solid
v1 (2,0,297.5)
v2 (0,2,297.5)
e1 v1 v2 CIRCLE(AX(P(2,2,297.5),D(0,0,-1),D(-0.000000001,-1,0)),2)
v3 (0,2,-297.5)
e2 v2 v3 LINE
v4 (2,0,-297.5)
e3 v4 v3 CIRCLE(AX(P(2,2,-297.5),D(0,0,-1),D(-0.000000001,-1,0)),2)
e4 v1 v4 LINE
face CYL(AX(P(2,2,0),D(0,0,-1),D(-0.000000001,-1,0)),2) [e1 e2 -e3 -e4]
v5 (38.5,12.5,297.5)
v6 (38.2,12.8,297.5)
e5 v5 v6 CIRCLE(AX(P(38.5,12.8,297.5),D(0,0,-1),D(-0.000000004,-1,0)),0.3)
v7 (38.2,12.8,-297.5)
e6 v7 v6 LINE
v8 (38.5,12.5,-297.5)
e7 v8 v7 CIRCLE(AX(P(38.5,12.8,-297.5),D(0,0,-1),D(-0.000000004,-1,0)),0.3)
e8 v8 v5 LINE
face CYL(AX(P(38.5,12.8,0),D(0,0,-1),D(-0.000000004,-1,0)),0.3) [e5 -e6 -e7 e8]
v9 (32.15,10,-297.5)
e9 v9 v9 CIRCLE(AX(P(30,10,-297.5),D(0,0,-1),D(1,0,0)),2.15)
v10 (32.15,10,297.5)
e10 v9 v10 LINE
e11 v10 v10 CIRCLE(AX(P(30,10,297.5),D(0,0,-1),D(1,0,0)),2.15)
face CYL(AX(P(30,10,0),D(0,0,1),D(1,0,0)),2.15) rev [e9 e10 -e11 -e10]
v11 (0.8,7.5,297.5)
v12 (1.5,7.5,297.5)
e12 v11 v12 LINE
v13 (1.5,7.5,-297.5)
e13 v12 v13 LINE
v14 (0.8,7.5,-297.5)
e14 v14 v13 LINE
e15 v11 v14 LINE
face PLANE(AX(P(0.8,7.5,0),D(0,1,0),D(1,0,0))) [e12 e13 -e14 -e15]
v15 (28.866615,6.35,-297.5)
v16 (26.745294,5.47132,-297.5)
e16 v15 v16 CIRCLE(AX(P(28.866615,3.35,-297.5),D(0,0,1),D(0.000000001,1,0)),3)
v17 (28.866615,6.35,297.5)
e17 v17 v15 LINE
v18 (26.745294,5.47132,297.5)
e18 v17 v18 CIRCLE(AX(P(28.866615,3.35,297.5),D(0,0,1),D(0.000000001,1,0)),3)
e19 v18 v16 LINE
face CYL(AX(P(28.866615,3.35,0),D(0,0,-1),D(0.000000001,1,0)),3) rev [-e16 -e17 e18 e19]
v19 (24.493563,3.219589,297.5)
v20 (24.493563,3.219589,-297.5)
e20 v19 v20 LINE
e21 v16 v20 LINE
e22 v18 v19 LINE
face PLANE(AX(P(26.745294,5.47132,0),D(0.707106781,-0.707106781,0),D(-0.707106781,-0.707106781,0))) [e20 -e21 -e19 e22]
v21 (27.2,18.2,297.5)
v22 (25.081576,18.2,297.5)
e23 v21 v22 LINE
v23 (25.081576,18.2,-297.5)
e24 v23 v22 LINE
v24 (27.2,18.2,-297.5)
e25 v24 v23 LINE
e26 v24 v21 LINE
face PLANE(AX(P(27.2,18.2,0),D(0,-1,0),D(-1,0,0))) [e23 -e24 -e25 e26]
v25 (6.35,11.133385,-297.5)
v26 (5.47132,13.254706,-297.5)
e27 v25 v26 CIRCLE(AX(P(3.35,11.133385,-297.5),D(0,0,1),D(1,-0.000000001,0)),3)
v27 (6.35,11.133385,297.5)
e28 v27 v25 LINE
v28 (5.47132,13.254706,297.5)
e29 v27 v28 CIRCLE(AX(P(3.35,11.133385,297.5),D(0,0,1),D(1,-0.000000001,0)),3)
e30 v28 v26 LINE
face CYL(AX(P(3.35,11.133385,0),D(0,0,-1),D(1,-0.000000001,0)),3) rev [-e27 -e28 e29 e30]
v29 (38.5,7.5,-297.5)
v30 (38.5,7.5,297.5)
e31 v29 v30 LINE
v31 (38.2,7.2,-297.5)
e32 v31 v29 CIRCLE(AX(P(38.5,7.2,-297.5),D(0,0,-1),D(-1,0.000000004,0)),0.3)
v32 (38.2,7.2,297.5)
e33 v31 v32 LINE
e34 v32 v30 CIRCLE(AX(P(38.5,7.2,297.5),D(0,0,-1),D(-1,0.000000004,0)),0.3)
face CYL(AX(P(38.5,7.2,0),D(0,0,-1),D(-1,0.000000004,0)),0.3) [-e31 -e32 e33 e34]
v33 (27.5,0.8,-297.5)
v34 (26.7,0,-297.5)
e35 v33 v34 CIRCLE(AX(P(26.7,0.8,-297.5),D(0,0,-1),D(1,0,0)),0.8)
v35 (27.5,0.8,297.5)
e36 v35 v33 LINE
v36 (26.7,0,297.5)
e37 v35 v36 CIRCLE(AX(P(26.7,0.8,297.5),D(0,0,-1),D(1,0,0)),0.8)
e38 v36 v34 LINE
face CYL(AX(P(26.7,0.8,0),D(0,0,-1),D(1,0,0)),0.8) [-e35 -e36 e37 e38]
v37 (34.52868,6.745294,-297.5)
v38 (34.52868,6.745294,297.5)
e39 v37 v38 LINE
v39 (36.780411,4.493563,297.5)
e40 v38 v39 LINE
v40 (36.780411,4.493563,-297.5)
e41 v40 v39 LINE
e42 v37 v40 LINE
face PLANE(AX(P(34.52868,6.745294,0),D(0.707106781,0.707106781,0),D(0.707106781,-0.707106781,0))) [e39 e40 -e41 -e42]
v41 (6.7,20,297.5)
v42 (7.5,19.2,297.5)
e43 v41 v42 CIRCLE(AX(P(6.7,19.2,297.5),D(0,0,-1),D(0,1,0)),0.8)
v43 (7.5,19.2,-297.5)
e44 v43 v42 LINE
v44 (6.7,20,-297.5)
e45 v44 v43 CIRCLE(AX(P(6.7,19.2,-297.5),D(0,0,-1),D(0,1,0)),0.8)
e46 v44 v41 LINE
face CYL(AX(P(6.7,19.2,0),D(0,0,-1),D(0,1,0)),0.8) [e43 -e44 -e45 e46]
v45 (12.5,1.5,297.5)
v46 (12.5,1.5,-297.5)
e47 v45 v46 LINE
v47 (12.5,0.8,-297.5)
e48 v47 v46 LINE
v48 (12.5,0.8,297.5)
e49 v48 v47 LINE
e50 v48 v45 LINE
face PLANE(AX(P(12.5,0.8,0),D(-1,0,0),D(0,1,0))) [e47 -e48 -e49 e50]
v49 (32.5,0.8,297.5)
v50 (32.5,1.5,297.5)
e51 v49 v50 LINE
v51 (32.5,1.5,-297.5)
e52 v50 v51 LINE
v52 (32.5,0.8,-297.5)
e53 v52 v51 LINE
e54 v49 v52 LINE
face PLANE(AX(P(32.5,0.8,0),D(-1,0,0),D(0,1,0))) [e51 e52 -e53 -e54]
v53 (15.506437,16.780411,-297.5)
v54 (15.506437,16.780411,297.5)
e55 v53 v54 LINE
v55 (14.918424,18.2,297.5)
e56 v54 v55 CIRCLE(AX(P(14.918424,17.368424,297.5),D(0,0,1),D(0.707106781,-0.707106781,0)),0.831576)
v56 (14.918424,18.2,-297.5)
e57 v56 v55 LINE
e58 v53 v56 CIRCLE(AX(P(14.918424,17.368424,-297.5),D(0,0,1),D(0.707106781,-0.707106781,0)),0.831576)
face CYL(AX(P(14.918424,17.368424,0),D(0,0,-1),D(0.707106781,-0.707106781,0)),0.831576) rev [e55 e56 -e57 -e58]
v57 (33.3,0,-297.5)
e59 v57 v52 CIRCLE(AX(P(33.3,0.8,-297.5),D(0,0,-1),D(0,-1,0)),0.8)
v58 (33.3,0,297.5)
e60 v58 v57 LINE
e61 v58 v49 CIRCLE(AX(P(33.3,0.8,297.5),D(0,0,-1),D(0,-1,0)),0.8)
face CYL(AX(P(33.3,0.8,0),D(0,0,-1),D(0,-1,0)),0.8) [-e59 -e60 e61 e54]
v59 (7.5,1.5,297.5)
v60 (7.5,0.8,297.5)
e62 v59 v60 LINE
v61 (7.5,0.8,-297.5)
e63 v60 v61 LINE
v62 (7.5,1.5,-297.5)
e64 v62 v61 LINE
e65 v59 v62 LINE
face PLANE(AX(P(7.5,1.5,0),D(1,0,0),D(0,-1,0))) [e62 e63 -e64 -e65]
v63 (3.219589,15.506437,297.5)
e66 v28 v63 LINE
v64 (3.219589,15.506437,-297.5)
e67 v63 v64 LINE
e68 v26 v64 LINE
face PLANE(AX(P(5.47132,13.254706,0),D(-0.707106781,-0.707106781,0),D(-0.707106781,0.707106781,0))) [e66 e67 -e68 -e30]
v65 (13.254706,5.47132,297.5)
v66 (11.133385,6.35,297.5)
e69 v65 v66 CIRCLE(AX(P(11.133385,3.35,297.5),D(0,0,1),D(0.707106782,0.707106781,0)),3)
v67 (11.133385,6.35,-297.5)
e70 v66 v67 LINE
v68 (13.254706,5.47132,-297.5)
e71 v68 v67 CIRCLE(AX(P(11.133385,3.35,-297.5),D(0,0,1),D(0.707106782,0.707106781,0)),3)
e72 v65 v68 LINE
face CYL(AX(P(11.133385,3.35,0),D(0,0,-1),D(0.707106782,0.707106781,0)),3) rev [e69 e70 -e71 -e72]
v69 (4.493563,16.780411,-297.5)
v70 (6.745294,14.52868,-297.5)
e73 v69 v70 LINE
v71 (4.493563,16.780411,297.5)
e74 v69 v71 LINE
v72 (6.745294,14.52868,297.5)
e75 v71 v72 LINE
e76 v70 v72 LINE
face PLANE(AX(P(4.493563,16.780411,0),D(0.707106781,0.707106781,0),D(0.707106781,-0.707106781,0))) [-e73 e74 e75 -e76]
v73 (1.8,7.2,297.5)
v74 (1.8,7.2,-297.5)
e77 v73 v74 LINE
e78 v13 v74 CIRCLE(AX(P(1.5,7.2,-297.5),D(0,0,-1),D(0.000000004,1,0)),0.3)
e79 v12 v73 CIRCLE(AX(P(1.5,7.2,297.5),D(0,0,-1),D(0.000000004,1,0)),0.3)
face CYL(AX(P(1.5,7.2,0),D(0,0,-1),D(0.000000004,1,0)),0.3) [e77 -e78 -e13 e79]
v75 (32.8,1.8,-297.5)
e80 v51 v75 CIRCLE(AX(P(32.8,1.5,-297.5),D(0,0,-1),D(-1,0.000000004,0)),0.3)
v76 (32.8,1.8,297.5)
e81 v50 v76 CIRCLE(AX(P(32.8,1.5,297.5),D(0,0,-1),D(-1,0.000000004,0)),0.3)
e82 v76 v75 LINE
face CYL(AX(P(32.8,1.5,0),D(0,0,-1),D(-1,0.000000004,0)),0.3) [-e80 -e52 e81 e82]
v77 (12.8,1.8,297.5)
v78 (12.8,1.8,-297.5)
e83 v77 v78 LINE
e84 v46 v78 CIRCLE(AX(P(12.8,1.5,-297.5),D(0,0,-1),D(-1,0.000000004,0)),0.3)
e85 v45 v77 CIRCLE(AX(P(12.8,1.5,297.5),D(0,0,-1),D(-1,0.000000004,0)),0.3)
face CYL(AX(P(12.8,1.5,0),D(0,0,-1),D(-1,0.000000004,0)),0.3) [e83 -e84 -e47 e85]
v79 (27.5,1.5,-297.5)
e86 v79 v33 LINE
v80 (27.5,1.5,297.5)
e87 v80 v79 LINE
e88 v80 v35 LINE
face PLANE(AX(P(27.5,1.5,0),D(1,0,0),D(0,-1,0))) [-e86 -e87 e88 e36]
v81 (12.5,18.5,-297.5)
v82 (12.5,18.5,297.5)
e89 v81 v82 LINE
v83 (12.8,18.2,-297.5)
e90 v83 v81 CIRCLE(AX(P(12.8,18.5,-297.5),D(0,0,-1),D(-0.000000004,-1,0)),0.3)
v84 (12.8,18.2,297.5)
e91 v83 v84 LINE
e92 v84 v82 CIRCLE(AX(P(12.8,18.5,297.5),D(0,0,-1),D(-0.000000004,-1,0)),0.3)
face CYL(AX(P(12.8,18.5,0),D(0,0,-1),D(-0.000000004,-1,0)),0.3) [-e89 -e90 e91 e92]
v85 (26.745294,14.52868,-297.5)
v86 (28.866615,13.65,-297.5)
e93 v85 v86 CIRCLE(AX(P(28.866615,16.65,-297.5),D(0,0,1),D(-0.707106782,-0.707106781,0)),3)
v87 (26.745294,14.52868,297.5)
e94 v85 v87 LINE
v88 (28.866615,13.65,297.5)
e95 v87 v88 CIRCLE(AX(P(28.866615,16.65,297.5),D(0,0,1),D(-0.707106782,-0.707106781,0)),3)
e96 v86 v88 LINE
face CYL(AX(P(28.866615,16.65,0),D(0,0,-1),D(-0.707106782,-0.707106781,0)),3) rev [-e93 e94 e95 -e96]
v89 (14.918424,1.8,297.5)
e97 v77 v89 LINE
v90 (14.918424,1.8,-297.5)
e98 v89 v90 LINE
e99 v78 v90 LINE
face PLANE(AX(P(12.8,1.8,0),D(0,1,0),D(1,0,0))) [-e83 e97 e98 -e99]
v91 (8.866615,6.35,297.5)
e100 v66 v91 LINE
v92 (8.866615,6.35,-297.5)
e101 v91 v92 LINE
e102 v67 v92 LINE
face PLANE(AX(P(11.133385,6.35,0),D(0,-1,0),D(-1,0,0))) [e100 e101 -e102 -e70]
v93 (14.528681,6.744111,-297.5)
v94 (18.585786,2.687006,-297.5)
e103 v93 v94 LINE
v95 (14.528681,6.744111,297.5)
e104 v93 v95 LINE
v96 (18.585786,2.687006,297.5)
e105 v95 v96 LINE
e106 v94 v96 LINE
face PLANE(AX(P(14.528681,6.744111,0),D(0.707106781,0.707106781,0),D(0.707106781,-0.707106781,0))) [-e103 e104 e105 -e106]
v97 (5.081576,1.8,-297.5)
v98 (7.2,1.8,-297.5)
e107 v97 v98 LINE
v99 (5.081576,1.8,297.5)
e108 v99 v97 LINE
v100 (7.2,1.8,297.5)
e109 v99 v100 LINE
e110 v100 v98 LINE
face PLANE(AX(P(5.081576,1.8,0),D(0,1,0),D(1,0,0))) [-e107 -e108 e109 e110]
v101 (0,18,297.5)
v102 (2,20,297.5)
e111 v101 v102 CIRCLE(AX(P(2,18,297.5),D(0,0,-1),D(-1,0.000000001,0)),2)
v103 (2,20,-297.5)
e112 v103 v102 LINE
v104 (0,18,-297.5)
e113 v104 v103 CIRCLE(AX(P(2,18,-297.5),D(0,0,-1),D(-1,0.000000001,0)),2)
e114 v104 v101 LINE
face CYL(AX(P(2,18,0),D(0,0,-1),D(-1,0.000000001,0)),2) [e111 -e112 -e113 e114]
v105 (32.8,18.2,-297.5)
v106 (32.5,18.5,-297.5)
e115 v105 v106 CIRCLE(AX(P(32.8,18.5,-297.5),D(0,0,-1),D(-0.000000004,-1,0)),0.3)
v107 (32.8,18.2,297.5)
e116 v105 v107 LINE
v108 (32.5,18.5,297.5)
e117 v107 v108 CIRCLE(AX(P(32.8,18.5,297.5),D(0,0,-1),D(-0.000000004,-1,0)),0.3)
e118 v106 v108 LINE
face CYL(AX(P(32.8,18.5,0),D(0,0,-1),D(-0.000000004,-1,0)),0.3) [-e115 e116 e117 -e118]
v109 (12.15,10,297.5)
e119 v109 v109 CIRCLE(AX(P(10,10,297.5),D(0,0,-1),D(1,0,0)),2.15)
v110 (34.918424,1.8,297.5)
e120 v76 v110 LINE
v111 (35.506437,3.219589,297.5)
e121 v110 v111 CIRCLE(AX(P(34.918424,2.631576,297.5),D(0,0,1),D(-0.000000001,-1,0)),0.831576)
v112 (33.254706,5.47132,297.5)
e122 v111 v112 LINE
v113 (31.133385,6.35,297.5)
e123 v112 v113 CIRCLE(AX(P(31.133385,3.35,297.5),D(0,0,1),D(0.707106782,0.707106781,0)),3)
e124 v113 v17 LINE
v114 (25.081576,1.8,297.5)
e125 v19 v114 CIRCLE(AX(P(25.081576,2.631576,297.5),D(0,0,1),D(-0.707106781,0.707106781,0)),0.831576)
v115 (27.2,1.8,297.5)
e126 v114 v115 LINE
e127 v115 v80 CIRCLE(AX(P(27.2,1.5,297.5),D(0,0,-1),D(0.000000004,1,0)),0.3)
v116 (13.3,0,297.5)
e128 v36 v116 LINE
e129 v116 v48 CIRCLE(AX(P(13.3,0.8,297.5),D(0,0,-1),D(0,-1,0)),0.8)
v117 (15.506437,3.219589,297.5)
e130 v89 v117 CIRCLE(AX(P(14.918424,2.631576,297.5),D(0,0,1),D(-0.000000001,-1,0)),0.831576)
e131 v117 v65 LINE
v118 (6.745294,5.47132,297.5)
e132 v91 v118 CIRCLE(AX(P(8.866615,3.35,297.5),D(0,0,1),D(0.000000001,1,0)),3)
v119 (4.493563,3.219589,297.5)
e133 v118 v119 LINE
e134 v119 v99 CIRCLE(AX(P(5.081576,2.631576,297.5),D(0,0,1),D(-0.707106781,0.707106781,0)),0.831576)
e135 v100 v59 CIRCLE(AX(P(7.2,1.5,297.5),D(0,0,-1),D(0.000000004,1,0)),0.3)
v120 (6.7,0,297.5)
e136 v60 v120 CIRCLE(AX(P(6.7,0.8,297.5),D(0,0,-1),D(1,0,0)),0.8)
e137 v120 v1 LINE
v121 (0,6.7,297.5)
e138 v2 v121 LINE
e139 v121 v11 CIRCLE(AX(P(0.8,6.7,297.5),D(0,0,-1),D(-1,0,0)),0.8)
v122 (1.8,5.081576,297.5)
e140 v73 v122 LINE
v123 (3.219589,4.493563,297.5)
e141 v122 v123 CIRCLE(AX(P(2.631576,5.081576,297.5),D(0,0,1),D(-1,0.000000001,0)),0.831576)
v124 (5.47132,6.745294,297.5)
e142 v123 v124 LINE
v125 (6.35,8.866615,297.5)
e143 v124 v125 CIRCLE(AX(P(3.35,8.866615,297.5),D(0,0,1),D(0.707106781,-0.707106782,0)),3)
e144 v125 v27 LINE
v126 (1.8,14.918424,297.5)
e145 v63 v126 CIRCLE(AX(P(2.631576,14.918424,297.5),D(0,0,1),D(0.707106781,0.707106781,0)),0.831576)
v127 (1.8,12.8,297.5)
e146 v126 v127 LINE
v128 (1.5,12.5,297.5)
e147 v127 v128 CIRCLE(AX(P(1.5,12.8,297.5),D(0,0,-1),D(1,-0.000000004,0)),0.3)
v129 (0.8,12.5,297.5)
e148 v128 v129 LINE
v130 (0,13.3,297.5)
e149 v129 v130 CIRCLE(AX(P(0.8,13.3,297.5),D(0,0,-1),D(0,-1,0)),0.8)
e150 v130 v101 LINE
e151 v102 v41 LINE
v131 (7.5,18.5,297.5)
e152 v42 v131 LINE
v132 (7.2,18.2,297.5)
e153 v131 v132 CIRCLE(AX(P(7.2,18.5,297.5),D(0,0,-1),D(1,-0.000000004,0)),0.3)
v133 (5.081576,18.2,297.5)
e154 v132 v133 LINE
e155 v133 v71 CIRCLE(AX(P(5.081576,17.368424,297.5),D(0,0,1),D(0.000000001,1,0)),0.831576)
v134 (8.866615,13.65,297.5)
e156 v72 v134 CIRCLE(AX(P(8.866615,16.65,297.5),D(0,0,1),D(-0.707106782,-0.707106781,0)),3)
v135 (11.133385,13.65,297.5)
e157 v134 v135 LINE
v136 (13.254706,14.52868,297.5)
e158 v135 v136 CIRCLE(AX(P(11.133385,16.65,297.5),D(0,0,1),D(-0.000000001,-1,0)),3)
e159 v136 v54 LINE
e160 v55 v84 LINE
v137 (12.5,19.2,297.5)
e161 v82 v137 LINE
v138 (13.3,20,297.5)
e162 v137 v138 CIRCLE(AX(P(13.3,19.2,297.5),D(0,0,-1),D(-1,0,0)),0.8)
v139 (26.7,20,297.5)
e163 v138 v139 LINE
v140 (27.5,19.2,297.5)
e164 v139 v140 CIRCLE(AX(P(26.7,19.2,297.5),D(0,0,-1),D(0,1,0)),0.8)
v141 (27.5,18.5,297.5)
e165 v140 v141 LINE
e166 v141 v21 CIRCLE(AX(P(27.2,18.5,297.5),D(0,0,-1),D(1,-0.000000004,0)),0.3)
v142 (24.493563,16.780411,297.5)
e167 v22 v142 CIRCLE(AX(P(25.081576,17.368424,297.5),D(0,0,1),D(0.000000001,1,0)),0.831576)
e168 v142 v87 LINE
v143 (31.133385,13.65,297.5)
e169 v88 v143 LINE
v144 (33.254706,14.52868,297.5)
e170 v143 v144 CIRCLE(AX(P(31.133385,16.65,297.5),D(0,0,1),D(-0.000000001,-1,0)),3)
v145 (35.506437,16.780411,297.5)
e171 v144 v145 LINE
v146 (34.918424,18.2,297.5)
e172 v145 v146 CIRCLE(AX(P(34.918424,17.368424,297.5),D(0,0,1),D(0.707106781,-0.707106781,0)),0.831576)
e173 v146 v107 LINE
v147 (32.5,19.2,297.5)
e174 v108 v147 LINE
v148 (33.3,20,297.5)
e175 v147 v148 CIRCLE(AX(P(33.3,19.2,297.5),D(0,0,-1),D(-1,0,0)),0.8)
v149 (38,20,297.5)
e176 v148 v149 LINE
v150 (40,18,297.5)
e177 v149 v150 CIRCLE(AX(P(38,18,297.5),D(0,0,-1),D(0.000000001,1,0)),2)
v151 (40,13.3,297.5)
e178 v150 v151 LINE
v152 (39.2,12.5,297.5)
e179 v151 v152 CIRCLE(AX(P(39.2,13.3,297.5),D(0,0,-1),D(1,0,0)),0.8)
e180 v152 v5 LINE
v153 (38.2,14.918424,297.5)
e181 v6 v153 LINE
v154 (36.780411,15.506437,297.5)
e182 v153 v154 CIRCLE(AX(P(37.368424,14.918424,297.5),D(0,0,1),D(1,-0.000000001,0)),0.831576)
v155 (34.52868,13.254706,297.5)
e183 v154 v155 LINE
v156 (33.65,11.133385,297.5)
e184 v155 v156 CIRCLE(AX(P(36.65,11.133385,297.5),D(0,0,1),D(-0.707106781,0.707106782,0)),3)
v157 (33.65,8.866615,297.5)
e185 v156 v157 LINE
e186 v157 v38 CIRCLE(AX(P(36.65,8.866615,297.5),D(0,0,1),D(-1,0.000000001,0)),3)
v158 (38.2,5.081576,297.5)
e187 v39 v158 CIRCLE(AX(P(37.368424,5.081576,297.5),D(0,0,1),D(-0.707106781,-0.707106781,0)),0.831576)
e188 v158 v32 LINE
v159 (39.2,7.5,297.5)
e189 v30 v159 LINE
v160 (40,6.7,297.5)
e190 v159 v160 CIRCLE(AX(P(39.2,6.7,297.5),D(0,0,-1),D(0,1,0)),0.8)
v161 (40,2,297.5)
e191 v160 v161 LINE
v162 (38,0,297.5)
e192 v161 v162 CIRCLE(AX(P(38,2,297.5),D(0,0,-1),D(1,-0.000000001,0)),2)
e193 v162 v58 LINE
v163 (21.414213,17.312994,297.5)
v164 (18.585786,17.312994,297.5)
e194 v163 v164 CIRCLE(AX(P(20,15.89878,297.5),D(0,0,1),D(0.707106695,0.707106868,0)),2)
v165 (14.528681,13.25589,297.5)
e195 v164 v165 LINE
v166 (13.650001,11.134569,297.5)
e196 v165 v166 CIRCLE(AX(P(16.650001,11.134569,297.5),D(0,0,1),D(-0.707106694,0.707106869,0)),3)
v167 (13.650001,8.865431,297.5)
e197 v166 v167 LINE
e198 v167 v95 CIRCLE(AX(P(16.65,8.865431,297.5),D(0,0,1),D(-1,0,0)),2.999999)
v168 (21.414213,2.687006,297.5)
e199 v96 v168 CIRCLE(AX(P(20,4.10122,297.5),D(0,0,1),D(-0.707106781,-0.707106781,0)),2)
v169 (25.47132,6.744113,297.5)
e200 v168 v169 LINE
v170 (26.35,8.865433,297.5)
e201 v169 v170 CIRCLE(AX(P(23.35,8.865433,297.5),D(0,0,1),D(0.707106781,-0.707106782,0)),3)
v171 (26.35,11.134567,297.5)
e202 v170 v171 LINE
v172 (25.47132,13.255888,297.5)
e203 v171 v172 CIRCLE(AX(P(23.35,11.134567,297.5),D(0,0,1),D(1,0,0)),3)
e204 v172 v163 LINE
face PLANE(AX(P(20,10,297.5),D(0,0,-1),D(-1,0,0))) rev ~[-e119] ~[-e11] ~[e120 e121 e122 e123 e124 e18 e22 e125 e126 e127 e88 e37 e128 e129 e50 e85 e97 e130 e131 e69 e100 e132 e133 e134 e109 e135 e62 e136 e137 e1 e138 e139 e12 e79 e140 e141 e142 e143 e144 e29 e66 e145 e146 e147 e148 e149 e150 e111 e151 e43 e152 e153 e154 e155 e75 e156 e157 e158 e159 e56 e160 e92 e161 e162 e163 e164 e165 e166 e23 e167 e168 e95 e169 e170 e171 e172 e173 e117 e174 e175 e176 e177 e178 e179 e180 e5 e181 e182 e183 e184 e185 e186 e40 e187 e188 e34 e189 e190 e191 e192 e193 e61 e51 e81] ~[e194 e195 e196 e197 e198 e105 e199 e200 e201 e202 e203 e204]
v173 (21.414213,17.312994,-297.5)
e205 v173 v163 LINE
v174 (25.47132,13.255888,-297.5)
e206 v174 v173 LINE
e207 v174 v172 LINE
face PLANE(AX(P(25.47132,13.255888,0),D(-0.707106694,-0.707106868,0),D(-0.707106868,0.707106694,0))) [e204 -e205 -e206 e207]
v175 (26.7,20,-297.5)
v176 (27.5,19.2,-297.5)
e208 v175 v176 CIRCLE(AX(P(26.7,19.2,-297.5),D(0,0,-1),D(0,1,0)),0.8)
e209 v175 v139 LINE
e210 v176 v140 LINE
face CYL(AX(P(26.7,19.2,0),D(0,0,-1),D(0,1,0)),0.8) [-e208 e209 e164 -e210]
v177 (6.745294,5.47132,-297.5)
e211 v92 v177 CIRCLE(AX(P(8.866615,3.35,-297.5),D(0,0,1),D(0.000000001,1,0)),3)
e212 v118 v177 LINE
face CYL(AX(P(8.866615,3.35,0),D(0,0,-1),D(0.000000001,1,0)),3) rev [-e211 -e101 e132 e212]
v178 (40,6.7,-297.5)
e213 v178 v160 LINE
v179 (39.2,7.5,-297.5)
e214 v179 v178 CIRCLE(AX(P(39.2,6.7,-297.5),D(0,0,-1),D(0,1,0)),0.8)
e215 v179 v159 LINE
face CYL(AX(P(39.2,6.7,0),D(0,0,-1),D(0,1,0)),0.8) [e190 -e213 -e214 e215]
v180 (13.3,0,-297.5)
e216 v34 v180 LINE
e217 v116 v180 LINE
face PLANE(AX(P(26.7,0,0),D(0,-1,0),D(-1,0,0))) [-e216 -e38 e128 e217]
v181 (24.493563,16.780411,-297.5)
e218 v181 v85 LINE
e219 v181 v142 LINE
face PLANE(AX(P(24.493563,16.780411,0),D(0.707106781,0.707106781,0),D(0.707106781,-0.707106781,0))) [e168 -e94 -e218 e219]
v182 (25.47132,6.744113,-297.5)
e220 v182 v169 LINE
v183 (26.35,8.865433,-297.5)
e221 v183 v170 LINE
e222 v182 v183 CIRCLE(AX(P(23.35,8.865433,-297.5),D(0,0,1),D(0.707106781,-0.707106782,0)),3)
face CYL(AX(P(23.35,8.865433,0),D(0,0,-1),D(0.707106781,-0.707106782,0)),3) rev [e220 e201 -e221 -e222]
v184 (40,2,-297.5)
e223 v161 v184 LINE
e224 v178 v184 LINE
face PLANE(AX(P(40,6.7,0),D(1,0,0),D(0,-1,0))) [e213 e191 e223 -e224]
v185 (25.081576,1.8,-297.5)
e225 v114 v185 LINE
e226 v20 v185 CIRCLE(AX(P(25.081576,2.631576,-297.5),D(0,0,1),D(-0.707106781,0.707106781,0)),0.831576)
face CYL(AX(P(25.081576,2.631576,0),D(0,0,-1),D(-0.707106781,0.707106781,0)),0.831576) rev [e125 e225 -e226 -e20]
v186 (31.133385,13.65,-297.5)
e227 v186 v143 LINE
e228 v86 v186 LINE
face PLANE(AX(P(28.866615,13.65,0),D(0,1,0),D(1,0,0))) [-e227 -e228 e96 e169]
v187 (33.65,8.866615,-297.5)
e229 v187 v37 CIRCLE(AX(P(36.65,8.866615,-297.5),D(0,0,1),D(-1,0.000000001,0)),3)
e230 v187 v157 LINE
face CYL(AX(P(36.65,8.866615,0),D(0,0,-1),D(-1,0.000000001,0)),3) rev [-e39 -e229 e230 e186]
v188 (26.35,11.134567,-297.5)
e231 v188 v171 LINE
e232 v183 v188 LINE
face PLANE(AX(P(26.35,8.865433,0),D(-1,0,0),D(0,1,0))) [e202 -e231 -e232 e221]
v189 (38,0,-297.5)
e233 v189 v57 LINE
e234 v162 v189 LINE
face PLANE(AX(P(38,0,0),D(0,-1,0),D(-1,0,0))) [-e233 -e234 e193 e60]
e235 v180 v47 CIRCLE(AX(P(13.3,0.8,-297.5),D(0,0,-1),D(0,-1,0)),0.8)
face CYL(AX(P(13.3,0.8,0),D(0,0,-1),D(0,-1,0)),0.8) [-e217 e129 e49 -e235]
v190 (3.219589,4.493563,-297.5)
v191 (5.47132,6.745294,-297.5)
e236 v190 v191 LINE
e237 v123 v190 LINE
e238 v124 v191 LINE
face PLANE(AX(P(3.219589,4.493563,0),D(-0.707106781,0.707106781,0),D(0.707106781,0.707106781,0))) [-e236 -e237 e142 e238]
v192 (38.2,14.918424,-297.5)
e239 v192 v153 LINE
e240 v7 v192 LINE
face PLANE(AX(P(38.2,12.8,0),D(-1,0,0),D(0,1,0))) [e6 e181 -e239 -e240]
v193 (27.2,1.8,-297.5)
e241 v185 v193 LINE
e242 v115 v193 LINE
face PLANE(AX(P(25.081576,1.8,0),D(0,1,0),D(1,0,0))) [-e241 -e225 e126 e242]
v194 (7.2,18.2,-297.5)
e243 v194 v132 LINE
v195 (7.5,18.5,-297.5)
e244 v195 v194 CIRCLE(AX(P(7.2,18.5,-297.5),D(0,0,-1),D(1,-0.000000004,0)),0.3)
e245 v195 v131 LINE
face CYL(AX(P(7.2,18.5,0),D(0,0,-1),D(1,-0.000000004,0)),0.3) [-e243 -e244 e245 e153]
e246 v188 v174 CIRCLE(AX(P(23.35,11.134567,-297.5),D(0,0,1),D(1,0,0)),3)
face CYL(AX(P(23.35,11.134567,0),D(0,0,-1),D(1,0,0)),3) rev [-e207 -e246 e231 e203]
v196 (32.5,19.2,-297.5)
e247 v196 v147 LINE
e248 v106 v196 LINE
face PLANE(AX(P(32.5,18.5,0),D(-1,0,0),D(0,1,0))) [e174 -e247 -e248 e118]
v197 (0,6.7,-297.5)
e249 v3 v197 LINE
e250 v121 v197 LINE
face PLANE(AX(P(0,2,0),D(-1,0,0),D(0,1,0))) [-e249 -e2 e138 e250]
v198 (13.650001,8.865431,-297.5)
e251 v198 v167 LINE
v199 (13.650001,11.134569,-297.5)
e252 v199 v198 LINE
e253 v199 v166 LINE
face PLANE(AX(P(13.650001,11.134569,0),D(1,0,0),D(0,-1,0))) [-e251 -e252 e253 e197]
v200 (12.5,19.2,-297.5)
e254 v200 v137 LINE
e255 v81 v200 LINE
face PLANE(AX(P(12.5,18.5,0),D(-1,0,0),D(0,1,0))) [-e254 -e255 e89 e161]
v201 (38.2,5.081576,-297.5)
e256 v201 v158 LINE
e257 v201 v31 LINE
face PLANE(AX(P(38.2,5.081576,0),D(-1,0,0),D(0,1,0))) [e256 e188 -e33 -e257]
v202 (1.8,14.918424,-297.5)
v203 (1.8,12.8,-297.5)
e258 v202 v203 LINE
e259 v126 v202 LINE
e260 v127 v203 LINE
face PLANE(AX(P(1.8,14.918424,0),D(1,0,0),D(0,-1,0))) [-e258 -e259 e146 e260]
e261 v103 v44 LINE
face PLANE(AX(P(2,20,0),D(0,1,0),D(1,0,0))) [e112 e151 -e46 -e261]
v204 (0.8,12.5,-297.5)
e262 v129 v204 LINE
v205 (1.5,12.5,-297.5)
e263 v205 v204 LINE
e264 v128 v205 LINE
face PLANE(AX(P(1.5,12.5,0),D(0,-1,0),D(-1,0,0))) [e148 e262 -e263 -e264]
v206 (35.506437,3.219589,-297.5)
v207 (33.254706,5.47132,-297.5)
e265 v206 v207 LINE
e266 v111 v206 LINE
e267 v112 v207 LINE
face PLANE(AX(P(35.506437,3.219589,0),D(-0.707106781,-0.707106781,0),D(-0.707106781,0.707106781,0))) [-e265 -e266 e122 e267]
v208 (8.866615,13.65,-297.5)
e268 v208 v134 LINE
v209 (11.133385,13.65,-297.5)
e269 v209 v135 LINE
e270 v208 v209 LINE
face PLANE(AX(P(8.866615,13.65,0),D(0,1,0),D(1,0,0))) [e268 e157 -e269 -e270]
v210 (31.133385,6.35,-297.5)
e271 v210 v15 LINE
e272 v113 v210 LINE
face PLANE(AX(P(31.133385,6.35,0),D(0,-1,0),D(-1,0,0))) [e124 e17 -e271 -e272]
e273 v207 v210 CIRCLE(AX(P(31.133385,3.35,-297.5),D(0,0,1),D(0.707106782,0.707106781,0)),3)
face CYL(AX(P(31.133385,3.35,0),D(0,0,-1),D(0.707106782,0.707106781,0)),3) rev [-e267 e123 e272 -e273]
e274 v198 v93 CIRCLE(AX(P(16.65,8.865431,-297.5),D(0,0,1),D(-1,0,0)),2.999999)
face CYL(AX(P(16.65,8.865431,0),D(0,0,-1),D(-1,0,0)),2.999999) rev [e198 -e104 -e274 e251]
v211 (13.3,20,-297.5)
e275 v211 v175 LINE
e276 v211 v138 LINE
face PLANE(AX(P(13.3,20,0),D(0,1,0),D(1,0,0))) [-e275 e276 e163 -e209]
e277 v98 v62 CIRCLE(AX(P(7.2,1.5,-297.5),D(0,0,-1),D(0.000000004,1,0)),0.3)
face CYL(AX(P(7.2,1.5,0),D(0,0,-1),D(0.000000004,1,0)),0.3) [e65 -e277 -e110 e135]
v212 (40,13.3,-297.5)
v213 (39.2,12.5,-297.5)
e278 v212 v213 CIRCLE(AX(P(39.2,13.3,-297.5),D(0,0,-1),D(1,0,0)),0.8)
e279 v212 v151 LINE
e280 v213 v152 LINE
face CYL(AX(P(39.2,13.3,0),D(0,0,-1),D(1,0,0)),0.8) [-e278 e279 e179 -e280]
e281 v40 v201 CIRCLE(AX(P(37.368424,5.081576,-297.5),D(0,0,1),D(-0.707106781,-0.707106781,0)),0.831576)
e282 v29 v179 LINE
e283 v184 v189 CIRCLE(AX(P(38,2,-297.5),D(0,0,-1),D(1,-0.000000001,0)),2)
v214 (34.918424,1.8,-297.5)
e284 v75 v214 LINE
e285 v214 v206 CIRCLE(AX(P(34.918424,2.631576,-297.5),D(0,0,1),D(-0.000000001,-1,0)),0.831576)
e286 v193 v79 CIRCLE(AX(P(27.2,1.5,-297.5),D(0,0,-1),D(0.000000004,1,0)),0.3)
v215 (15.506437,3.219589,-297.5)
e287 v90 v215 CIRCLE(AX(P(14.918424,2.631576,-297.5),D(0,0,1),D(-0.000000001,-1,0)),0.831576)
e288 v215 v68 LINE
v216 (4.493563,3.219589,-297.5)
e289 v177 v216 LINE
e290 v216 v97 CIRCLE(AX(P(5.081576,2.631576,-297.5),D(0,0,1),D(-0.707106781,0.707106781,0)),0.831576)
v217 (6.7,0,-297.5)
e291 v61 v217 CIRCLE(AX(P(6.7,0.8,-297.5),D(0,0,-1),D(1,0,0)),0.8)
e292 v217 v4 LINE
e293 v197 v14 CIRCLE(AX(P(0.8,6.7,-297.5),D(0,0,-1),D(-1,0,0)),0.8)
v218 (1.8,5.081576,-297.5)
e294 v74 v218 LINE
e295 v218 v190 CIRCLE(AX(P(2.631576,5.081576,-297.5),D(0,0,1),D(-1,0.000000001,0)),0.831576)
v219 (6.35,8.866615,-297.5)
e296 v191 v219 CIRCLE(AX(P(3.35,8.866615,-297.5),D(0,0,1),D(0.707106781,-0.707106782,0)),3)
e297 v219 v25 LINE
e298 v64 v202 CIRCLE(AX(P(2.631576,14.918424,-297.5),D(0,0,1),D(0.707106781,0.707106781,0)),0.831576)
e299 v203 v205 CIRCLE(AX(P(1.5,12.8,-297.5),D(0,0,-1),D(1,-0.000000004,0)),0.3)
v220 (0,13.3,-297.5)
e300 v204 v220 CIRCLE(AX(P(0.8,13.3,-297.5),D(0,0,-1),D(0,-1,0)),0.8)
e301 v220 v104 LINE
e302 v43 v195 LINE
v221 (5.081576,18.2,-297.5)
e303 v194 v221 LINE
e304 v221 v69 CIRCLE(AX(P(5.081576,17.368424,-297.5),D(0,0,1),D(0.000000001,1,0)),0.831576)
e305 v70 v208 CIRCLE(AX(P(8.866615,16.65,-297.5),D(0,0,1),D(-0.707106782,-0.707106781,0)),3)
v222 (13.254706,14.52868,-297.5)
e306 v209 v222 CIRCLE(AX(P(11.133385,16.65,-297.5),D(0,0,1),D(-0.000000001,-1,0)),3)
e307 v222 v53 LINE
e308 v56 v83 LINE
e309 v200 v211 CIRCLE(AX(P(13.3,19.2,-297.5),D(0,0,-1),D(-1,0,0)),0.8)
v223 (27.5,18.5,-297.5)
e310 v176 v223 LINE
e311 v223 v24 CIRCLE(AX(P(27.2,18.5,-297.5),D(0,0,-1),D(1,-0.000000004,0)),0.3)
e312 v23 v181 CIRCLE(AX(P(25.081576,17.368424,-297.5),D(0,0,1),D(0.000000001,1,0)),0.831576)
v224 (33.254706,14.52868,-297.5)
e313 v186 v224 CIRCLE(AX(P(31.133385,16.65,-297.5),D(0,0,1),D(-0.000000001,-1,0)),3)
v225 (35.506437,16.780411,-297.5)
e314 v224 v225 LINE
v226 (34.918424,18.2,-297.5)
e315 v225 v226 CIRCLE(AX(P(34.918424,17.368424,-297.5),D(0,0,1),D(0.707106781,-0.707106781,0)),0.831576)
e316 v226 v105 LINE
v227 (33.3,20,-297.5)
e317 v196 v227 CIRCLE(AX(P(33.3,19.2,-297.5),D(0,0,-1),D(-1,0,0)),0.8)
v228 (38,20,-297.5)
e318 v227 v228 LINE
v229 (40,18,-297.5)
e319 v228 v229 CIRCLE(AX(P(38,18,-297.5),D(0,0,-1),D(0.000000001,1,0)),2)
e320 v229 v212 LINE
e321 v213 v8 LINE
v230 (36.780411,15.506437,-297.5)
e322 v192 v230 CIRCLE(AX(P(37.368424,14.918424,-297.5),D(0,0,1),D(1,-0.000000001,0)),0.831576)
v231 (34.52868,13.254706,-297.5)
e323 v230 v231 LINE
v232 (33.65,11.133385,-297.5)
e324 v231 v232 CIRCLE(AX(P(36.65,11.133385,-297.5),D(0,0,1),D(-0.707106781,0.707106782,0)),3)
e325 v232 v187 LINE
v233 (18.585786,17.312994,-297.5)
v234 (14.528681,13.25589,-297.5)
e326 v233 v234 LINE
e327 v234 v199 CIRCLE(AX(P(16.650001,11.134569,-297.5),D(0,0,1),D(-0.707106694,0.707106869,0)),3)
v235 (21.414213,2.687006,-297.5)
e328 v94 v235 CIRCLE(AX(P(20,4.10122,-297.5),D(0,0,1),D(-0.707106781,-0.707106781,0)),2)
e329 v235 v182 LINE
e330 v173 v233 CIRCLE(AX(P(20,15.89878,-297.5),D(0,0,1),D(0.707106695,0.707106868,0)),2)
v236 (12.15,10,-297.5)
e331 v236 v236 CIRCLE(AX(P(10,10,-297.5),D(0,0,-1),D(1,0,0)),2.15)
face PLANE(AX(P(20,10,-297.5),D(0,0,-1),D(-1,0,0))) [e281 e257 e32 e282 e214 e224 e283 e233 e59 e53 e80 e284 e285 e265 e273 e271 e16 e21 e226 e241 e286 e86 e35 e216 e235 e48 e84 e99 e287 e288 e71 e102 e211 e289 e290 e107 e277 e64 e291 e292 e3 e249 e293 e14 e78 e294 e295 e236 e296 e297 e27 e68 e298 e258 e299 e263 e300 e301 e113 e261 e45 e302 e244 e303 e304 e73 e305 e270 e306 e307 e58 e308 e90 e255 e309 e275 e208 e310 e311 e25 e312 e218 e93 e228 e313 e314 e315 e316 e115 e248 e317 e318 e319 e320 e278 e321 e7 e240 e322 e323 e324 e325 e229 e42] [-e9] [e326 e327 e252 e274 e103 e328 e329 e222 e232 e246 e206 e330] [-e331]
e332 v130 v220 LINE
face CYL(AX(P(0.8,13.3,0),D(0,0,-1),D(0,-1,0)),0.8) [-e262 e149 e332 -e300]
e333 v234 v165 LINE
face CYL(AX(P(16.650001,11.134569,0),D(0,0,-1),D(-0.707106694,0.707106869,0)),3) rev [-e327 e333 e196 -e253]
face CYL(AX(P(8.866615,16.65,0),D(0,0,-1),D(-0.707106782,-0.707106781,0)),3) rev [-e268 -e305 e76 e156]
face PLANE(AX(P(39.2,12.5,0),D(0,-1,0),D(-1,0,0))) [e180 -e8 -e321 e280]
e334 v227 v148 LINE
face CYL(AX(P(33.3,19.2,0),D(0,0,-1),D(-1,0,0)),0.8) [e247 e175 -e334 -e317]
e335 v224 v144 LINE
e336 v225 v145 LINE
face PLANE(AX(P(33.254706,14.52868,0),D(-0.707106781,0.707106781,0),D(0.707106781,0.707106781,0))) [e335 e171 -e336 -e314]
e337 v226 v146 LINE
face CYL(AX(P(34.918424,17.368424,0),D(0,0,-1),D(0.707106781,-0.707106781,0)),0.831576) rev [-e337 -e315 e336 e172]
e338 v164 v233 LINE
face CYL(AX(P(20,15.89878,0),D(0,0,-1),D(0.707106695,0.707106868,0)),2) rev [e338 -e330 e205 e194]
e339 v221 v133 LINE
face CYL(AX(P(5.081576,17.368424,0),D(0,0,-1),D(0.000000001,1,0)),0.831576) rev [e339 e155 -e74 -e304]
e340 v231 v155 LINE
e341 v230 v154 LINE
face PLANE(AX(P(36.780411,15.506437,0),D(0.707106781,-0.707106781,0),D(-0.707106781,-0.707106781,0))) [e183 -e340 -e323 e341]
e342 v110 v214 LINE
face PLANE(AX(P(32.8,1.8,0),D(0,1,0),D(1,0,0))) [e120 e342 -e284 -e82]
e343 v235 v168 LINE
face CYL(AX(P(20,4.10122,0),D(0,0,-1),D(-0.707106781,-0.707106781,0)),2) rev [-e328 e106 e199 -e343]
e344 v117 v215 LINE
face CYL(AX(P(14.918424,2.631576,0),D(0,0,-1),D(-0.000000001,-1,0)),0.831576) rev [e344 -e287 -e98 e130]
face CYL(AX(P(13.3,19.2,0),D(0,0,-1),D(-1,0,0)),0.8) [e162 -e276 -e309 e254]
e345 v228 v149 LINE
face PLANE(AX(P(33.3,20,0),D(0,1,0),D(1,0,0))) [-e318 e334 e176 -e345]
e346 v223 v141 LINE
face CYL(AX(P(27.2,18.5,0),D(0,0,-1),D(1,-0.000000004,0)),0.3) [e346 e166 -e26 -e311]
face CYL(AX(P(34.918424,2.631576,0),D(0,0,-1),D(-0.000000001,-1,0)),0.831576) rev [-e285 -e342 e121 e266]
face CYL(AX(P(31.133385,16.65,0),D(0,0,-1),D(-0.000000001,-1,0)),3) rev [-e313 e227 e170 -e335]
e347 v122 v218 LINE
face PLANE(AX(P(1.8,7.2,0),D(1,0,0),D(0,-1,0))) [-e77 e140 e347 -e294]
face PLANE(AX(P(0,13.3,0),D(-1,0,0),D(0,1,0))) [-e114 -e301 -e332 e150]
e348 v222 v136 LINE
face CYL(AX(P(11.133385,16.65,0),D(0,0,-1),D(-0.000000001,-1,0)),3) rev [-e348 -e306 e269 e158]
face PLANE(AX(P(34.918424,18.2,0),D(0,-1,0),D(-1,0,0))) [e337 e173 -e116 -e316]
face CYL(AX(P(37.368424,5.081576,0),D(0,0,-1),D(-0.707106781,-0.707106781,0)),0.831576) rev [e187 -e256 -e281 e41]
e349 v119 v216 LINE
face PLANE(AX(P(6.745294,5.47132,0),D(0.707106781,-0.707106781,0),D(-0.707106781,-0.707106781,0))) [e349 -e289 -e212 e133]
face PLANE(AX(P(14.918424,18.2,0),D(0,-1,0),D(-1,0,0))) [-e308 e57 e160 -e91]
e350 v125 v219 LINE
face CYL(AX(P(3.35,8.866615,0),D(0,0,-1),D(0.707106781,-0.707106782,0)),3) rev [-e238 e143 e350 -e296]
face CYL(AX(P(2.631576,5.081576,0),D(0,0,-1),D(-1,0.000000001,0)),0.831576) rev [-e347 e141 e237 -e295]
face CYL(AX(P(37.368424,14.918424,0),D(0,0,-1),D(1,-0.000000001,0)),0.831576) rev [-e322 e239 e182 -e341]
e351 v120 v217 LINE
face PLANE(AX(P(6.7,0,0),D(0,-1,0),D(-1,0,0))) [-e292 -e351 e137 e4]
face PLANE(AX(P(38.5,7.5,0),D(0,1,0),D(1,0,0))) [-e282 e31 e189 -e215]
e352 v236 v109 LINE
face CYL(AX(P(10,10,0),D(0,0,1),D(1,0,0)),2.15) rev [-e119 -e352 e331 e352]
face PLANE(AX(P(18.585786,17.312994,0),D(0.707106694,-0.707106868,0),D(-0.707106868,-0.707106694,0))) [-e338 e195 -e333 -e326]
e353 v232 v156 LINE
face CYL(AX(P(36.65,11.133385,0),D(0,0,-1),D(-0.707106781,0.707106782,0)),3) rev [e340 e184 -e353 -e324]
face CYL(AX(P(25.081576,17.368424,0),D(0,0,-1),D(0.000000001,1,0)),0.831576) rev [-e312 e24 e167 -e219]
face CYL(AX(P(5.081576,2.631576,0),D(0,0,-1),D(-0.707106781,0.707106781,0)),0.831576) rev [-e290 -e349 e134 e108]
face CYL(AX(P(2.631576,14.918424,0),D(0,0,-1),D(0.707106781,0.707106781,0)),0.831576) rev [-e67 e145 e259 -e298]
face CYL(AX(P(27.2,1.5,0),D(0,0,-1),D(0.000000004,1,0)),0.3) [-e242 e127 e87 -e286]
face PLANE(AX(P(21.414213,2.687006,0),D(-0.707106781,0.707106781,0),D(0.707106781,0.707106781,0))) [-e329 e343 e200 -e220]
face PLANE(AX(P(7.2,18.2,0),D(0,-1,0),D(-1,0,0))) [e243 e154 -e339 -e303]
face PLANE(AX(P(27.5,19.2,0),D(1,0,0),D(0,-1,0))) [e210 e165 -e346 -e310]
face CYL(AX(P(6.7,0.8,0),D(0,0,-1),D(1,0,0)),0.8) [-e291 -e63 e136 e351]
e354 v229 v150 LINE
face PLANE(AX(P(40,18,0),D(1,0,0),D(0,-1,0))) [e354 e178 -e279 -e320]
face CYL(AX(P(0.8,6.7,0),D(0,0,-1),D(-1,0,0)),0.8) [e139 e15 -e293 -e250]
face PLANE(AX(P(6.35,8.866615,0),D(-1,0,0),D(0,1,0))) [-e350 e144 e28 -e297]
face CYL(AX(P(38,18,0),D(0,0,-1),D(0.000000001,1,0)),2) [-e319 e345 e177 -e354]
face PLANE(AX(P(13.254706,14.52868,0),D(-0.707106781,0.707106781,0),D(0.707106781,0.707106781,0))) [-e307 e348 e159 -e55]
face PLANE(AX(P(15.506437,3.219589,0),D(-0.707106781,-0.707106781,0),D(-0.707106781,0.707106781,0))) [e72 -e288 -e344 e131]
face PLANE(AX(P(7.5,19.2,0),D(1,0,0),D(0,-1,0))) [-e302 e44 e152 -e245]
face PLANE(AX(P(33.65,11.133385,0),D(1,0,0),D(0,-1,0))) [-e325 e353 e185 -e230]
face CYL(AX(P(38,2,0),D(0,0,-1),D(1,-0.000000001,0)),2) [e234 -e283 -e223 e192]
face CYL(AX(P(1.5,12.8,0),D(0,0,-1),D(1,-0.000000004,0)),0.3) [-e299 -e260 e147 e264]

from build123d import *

# Parameters (mm, degrees)
ESQUISSE1_R        = 2.15
BOSS_EXTRU_1_DEPTH = 297.5


with BuildPart() as part:
    # Esquisse1 → Boss.-Extru.1 (new, symmetric)
    with BuildSketch(Plane(origin=(0, 0, 0), x_dir=(-1, 0, 0), z_dir=(0, 0, -1))):
        with BuildLine():
            Line((-40, 6.7), (-40, 2))
            ThreePointArc((-40, 2), (-39.414213562, 0.585786438), (-38, 0))
            Line((-38, 0), (-33.3, 0))
            ThreePointArc((-33.3, 0), (-32.734314575, 0.234314575), (-32.5, 0.8))
            Line((-32.5, 0.8), (-32.5, 1.5))
            ThreePointArc((-32.5, 1.5), (-32.587867966, 1.712132034), (-32.8, 1.8))
            Line((-32.8, 1.8), (-34.918424061, 1.8))
            ThreePointArc((-34.918424061, 1.8), (-35.686700051, 2.313345604), (-35.506437047, 3.219588924))
            Line((-35.506437047, 3.219588924), (-33.254705627, 5.471320344))
            ThreePointArc((-33.254705627, 5.471320344), (-32.281435581, 6.121638598), (-31.133385284, 6.35))
            Line((-31.133385284, 6.35), (-28.866614716, 6.35))
            ThreePointArc((-28.866614716, 6.35), (-27.718564419, 6.121638598), (-26.745294373, 5.471320344))
            Line((-26.745294373, 5.471320344), (-24.493562953, 3.219588924))
            ThreePointArc((-24.493562953, 3.219588924), (-24.313299949, 2.313345604), (-25.081575939, 1.8))
            Line((-25.081575939, 1.8), (-27.2, 1.8))
            ThreePointArc((-27.2, 1.8), (-27.412132034, 1.712132034), (-27.5, 1.5))
            Line((-27.5, 1.5), (-27.5, 0.8))
            ThreePointArc((-27.5, 0.8), (-27.265685425, 0.234314575), (-26.7, 0))
            Line((-26.7, 0), (-13.3, 0))
            ThreePointArc((-13.3, 0), (-12.734314575, 0.234314575), (-12.5, 0.8))
            Line((-12.5, 0.8), (-12.5, 1.5))
            ThreePointArc((-12.5, 1.5), (-12.587867966, 1.712132034), (-12.8, 1.8))
            Line((-12.8, 1.8), (-14.918424061, 1.8))
            ThreePointArc((-14.918424061, 1.8), (-15.686700051, 2.313345604), (-15.506437047, 3.219588924))
            Line((-15.506437047, 3.219588924), (-13.254705627, 5.471320344))
            ThreePointArc((-13.254705627, 5.471320344), (-12.281435581, 6.121638598), (-11.133385284, 6.35))
            Line((-11.133385284, 6.35), (-8.866614716, 6.35))
            ThreePointArc((-8.866614716, 6.35), (-7.718564419, 6.121638598), (-6.745294373, 5.471320344))
            Line((-6.745294373, 5.471320344), (-4.493562953, 3.219588924))
            ThreePointArc((-4.493562953, 3.219588924), (-4.313299949, 2.313345604), (-5.081575939, 1.8))
            Line((-5.081575939, 1.8), (-7.2, 1.8))
            ThreePointArc((-7.2, 1.8), (-7.412132034, 1.712132034), (-7.5, 1.5))
            Line((-7.5, 1.5), (-7.5, 0.8))
            ThreePointArc((-7.5, 0.8), (-7.265685425, 0.234314575), (-6.7, 0))
            Line((-6.7, 0), (-2, 0))
            ThreePointArc((-2, 0), (-0.585786438, 0.585786438), (0, 2))
            Line((0, 2), (0, 6.7))
            ThreePointArc((0, 6.7), (-0.234314575, 7.265685425), (-0.8, 7.5))
            Line((-0.8, 7.5), (-1.5, 7.5))
            ThreePointArc((-1.5, 7.5), (-1.712132034, 7.412132034), (-1.8, 7.2))
            Line((-1.8, 7.2), (-1.8, 5.081575939))
            ThreePointArc((-1.8, 5.081575939), (-2.313345604, 4.313299949), (-3.219588924, 4.493562953))
            Line((-3.219588924, 4.493562953), (-5.471320344, 6.745294373))
            ThreePointArc((-5.471320344, 6.745294373), (-6.121638598, 7.718564419), (-6.35, 8.866614716))
            Line((-6.35, 8.866614716), (-6.35, 11.133385284))
            ThreePointArc((-6.35, 11.133385284), (-6.121638598, 12.281435581), (-5.471320344, 13.254705627))
            Line((-5.471320344, 13.254705627), (-3.219588924, 15.506437047))
            ThreePointArc((-3.219588924, 15.506437047), (-2.313345604, 15.686700051), (-1.8, 14.918424061))
            Line((-1.8, 14.918424061), (-1.8, 12.8))
            ThreePointArc((-1.8, 12.8), (-1.712132034, 12.587867966), (-1.5, 12.5))
            Line((-1.5, 12.5), (-0.8, 12.5))
            ThreePointArc((-0.8, 12.5), (-0.234314575, 12.734314575), (0, 13.3))
            Line((0, 13.3), (0, 18))
            ThreePointArc((0, 18), (-0.585786438, 19.414213562), (-2, 20))
            Line((-2, 20), (-6.7, 20))
            ThreePointArc((-6.7, 20), (-7.265685425, 19.765685425), (-7.5, 19.2))
            Line((-7.5, 19.2), (-7.5, 18.5))
            ThreePointArc((-7.5, 18.5), (-7.412132034, 18.287867966), (-7.2, 18.2))
            Line((-7.2, 18.2), (-5.081575939, 18.2))
            ThreePointArc((-5.081575939, 18.2), (-4.313299949, 17.686654396), (-4.493562953, 16.780411076))
            Line((-4.493562953, 16.780411076), (-6.745294373, 14.528679656))
            ThreePointArc((-6.745294373, 14.528679656), (-7.718564419, 13.878361402), (-8.866614716, 13.65))
            Line((-8.866614716, 13.65), (-11.133385284, 13.65))
            ThreePointArc((-11.133385284, 13.65), (-12.281435581, 13.878361402), (-13.254705627, 14.528679656))
            Line((-13.254705627, 14.528679656), (-15.506437047, 16.780411076))
            ThreePointArc((-15.506437047, 16.780411076), (-15.686700051, 17.686654396), (-14.918424061, 18.2))
            Line((-14.918424061, 18.2), (-12.8, 18.2))
            ThreePointArc((-12.8, 18.2), (-12.587867966, 18.287867966), (-12.5, 18.5))
            Line((-12.5, 18.5), (-12.5, 19.2))
            ThreePointArc((-12.5, 19.2), (-12.734314575, 19.765685425), (-13.3, 20))
            Line((-13.3, 20), (-26.7, 20))
            ThreePointArc((-26.7, 20), (-27.265685425, 19.765685425), (-27.5, 19.2))
            Line((-27.5, 19.2), (-27.5, 18.5))
            ThreePointArc((-27.5, 18.5), (-27.412132034, 18.287867966), (-27.2, 18.2))
            Line((-27.2, 18.2), (-25.081575939, 18.2))
            ThreePointArc((-25.081575939, 18.2), (-24.313299949, 17.686654396), (-24.493562953, 16.780411076))
            Line((-24.493562953, 16.780411076), (-26.745294373, 14.528679656))
            ThreePointArc((-26.745294373, 14.528679656), (-27.718564419, 13.878361402), (-28.866614716, 13.65))
            Line((-28.866614716, 13.65), (-31.133385284, 13.65))
            ThreePointArc((-31.133385284, 13.65), (-32.281435581, 13.878361402), (-33.254705627, 14.528679656))
            Line((-33.254705627, 14.528679656), (-35.506437047, 16.780411076))
            ThreePointArc((-35.506437047, 16.780411076), (-35.686700051, 17.686654396), (-34.918424061, 18.2))
            Line((-34.918424061, 18.2), (-32.8, 18.2))
            ThreePointArc((-32.8, 18.2), (-32.587867966, 18.287867966), (-32.5, 18.5))
            Line((-32.5, 18.5), (-32.5, 19.2))
            ThreePointArc((-32.5, 19.2), (-32.734314575, 19.765685425), (-33.3, 20))
            Line((-33.3, 20), (-38, 20))
            ThreePointArc((-38, 20), (-39.414213562, 19.414213562), (-40, 18))
            Line((-40, 18), (-40, 13.3))
            ThreePointArc((-40, 13.3), (-39.765685425, 12.734314575), (-39.2, 12.5))
            Line((-39.2, 12.5), (-38.5, 12.5))
            ThreePointArc((-38.5, 12.5), (-38.287867966, 12.587867966), (-38.2, 12.8))
            Line((-38.2, 12.8), (-38.2, 14.918424061))
            ThreePointArc((-38.2, 14.918424061), (-37.686654396, 15.686700051), (-36.780411076, 15.506437047))
            Line((-36.780411076, 15.506437047), (-34.528679656, 13.254705627))
            ThreePointArc((-34.528679656, 13.254705627), (-33.878361402, 12.281435581), (-33.65, 11.133385284))
            Line((-33.65, 11.133385284), (-33.65, 8.866614716))
            ThreePointArc((-33.65, 8.866614716), (-33.878361402, 7.718564419), (-34.528679656, 6.745294373))
            Line((-34.528679656, 6.745294373), (-36.780411076, 4.493562953))
            ThreePointArc((-36.780411076, 4.493562953), (-37.686654396, 4.313299949), (-38.2, 5.081575939))
            Line((-38.2, 5.081575939), (-38.2, 7.2))
            ThreePointArc((-38.2, 7.2), (-38.287867966, 7.412132034), (-38.5, 7.5))
            Line((-38.5, 7.5), (-39.2, 7.5))
            ThreePointArc((-39.2, 7.5), (-39.765685425, 7.265685425), (-40, 6.7))
        make_face()
        with Locations(Location((-10, 10, 0), (0, 0, 180))):
            Circle(ESQUISSE1_R, mode=Mode.SUBTRACT)
        with Locations(Location((-30, 10, 0), (0, 0, 180))):
            Circle(ESQUISSE1_R, mode=Mode.SUBTRACT)
        with BuildLine():
            Line((-18.585786174, 17.312993861), (-14.528681072, 13.255889759))
            ThreePointArc((-14.528681072, 13.255889759), (-13.878362627, 12.282619622), (-13.650001154, 11.134569154))
            Line((-13.650001154, 11.134569154), (-13.650001154, 8.865431094))
            ThreePointArc((-13.650001154, 8.865431094), (-13.878362476, 7.717381202), (-14.5286805, 6.7441115))
            Line((-14.5286805, 6.7441115), (-18.585786, 2.687006))
            ThreePointArc((-18.585786, 2.687006), (-19.999999562, 2.101219562), (-21.414213125, 2.687006))
            Line((-21.414213125, 2.687006), (-25.471320125, 6.744113))
            ThreePointArc((-25.471320125, 6.744113), (-26.121638379, 7.717383046), (-26.349999781, 8.865433344))
            Line((-26.349999781, 8.865433344), (-26.349999781, 11.134567344))
            ThreePointArc((-26.349999781, 11.134567344), (-26.121638308, 12.282617811), (-25.471319863, 13.255887949))
            Line((-25.471319863, 13.255887949), (-21.41421295, 17.312993861))
            ThreePointArc((-21.41421295, 17.312993861), (-19.999999562, 17.898780125), (-18.585786174, 17.312993861))
        make_face(mode=Mode.SUBTRACT)
    extrude(amount=BOSS_EXTRU_1_DEPTH, both=True)


solid = part.part
